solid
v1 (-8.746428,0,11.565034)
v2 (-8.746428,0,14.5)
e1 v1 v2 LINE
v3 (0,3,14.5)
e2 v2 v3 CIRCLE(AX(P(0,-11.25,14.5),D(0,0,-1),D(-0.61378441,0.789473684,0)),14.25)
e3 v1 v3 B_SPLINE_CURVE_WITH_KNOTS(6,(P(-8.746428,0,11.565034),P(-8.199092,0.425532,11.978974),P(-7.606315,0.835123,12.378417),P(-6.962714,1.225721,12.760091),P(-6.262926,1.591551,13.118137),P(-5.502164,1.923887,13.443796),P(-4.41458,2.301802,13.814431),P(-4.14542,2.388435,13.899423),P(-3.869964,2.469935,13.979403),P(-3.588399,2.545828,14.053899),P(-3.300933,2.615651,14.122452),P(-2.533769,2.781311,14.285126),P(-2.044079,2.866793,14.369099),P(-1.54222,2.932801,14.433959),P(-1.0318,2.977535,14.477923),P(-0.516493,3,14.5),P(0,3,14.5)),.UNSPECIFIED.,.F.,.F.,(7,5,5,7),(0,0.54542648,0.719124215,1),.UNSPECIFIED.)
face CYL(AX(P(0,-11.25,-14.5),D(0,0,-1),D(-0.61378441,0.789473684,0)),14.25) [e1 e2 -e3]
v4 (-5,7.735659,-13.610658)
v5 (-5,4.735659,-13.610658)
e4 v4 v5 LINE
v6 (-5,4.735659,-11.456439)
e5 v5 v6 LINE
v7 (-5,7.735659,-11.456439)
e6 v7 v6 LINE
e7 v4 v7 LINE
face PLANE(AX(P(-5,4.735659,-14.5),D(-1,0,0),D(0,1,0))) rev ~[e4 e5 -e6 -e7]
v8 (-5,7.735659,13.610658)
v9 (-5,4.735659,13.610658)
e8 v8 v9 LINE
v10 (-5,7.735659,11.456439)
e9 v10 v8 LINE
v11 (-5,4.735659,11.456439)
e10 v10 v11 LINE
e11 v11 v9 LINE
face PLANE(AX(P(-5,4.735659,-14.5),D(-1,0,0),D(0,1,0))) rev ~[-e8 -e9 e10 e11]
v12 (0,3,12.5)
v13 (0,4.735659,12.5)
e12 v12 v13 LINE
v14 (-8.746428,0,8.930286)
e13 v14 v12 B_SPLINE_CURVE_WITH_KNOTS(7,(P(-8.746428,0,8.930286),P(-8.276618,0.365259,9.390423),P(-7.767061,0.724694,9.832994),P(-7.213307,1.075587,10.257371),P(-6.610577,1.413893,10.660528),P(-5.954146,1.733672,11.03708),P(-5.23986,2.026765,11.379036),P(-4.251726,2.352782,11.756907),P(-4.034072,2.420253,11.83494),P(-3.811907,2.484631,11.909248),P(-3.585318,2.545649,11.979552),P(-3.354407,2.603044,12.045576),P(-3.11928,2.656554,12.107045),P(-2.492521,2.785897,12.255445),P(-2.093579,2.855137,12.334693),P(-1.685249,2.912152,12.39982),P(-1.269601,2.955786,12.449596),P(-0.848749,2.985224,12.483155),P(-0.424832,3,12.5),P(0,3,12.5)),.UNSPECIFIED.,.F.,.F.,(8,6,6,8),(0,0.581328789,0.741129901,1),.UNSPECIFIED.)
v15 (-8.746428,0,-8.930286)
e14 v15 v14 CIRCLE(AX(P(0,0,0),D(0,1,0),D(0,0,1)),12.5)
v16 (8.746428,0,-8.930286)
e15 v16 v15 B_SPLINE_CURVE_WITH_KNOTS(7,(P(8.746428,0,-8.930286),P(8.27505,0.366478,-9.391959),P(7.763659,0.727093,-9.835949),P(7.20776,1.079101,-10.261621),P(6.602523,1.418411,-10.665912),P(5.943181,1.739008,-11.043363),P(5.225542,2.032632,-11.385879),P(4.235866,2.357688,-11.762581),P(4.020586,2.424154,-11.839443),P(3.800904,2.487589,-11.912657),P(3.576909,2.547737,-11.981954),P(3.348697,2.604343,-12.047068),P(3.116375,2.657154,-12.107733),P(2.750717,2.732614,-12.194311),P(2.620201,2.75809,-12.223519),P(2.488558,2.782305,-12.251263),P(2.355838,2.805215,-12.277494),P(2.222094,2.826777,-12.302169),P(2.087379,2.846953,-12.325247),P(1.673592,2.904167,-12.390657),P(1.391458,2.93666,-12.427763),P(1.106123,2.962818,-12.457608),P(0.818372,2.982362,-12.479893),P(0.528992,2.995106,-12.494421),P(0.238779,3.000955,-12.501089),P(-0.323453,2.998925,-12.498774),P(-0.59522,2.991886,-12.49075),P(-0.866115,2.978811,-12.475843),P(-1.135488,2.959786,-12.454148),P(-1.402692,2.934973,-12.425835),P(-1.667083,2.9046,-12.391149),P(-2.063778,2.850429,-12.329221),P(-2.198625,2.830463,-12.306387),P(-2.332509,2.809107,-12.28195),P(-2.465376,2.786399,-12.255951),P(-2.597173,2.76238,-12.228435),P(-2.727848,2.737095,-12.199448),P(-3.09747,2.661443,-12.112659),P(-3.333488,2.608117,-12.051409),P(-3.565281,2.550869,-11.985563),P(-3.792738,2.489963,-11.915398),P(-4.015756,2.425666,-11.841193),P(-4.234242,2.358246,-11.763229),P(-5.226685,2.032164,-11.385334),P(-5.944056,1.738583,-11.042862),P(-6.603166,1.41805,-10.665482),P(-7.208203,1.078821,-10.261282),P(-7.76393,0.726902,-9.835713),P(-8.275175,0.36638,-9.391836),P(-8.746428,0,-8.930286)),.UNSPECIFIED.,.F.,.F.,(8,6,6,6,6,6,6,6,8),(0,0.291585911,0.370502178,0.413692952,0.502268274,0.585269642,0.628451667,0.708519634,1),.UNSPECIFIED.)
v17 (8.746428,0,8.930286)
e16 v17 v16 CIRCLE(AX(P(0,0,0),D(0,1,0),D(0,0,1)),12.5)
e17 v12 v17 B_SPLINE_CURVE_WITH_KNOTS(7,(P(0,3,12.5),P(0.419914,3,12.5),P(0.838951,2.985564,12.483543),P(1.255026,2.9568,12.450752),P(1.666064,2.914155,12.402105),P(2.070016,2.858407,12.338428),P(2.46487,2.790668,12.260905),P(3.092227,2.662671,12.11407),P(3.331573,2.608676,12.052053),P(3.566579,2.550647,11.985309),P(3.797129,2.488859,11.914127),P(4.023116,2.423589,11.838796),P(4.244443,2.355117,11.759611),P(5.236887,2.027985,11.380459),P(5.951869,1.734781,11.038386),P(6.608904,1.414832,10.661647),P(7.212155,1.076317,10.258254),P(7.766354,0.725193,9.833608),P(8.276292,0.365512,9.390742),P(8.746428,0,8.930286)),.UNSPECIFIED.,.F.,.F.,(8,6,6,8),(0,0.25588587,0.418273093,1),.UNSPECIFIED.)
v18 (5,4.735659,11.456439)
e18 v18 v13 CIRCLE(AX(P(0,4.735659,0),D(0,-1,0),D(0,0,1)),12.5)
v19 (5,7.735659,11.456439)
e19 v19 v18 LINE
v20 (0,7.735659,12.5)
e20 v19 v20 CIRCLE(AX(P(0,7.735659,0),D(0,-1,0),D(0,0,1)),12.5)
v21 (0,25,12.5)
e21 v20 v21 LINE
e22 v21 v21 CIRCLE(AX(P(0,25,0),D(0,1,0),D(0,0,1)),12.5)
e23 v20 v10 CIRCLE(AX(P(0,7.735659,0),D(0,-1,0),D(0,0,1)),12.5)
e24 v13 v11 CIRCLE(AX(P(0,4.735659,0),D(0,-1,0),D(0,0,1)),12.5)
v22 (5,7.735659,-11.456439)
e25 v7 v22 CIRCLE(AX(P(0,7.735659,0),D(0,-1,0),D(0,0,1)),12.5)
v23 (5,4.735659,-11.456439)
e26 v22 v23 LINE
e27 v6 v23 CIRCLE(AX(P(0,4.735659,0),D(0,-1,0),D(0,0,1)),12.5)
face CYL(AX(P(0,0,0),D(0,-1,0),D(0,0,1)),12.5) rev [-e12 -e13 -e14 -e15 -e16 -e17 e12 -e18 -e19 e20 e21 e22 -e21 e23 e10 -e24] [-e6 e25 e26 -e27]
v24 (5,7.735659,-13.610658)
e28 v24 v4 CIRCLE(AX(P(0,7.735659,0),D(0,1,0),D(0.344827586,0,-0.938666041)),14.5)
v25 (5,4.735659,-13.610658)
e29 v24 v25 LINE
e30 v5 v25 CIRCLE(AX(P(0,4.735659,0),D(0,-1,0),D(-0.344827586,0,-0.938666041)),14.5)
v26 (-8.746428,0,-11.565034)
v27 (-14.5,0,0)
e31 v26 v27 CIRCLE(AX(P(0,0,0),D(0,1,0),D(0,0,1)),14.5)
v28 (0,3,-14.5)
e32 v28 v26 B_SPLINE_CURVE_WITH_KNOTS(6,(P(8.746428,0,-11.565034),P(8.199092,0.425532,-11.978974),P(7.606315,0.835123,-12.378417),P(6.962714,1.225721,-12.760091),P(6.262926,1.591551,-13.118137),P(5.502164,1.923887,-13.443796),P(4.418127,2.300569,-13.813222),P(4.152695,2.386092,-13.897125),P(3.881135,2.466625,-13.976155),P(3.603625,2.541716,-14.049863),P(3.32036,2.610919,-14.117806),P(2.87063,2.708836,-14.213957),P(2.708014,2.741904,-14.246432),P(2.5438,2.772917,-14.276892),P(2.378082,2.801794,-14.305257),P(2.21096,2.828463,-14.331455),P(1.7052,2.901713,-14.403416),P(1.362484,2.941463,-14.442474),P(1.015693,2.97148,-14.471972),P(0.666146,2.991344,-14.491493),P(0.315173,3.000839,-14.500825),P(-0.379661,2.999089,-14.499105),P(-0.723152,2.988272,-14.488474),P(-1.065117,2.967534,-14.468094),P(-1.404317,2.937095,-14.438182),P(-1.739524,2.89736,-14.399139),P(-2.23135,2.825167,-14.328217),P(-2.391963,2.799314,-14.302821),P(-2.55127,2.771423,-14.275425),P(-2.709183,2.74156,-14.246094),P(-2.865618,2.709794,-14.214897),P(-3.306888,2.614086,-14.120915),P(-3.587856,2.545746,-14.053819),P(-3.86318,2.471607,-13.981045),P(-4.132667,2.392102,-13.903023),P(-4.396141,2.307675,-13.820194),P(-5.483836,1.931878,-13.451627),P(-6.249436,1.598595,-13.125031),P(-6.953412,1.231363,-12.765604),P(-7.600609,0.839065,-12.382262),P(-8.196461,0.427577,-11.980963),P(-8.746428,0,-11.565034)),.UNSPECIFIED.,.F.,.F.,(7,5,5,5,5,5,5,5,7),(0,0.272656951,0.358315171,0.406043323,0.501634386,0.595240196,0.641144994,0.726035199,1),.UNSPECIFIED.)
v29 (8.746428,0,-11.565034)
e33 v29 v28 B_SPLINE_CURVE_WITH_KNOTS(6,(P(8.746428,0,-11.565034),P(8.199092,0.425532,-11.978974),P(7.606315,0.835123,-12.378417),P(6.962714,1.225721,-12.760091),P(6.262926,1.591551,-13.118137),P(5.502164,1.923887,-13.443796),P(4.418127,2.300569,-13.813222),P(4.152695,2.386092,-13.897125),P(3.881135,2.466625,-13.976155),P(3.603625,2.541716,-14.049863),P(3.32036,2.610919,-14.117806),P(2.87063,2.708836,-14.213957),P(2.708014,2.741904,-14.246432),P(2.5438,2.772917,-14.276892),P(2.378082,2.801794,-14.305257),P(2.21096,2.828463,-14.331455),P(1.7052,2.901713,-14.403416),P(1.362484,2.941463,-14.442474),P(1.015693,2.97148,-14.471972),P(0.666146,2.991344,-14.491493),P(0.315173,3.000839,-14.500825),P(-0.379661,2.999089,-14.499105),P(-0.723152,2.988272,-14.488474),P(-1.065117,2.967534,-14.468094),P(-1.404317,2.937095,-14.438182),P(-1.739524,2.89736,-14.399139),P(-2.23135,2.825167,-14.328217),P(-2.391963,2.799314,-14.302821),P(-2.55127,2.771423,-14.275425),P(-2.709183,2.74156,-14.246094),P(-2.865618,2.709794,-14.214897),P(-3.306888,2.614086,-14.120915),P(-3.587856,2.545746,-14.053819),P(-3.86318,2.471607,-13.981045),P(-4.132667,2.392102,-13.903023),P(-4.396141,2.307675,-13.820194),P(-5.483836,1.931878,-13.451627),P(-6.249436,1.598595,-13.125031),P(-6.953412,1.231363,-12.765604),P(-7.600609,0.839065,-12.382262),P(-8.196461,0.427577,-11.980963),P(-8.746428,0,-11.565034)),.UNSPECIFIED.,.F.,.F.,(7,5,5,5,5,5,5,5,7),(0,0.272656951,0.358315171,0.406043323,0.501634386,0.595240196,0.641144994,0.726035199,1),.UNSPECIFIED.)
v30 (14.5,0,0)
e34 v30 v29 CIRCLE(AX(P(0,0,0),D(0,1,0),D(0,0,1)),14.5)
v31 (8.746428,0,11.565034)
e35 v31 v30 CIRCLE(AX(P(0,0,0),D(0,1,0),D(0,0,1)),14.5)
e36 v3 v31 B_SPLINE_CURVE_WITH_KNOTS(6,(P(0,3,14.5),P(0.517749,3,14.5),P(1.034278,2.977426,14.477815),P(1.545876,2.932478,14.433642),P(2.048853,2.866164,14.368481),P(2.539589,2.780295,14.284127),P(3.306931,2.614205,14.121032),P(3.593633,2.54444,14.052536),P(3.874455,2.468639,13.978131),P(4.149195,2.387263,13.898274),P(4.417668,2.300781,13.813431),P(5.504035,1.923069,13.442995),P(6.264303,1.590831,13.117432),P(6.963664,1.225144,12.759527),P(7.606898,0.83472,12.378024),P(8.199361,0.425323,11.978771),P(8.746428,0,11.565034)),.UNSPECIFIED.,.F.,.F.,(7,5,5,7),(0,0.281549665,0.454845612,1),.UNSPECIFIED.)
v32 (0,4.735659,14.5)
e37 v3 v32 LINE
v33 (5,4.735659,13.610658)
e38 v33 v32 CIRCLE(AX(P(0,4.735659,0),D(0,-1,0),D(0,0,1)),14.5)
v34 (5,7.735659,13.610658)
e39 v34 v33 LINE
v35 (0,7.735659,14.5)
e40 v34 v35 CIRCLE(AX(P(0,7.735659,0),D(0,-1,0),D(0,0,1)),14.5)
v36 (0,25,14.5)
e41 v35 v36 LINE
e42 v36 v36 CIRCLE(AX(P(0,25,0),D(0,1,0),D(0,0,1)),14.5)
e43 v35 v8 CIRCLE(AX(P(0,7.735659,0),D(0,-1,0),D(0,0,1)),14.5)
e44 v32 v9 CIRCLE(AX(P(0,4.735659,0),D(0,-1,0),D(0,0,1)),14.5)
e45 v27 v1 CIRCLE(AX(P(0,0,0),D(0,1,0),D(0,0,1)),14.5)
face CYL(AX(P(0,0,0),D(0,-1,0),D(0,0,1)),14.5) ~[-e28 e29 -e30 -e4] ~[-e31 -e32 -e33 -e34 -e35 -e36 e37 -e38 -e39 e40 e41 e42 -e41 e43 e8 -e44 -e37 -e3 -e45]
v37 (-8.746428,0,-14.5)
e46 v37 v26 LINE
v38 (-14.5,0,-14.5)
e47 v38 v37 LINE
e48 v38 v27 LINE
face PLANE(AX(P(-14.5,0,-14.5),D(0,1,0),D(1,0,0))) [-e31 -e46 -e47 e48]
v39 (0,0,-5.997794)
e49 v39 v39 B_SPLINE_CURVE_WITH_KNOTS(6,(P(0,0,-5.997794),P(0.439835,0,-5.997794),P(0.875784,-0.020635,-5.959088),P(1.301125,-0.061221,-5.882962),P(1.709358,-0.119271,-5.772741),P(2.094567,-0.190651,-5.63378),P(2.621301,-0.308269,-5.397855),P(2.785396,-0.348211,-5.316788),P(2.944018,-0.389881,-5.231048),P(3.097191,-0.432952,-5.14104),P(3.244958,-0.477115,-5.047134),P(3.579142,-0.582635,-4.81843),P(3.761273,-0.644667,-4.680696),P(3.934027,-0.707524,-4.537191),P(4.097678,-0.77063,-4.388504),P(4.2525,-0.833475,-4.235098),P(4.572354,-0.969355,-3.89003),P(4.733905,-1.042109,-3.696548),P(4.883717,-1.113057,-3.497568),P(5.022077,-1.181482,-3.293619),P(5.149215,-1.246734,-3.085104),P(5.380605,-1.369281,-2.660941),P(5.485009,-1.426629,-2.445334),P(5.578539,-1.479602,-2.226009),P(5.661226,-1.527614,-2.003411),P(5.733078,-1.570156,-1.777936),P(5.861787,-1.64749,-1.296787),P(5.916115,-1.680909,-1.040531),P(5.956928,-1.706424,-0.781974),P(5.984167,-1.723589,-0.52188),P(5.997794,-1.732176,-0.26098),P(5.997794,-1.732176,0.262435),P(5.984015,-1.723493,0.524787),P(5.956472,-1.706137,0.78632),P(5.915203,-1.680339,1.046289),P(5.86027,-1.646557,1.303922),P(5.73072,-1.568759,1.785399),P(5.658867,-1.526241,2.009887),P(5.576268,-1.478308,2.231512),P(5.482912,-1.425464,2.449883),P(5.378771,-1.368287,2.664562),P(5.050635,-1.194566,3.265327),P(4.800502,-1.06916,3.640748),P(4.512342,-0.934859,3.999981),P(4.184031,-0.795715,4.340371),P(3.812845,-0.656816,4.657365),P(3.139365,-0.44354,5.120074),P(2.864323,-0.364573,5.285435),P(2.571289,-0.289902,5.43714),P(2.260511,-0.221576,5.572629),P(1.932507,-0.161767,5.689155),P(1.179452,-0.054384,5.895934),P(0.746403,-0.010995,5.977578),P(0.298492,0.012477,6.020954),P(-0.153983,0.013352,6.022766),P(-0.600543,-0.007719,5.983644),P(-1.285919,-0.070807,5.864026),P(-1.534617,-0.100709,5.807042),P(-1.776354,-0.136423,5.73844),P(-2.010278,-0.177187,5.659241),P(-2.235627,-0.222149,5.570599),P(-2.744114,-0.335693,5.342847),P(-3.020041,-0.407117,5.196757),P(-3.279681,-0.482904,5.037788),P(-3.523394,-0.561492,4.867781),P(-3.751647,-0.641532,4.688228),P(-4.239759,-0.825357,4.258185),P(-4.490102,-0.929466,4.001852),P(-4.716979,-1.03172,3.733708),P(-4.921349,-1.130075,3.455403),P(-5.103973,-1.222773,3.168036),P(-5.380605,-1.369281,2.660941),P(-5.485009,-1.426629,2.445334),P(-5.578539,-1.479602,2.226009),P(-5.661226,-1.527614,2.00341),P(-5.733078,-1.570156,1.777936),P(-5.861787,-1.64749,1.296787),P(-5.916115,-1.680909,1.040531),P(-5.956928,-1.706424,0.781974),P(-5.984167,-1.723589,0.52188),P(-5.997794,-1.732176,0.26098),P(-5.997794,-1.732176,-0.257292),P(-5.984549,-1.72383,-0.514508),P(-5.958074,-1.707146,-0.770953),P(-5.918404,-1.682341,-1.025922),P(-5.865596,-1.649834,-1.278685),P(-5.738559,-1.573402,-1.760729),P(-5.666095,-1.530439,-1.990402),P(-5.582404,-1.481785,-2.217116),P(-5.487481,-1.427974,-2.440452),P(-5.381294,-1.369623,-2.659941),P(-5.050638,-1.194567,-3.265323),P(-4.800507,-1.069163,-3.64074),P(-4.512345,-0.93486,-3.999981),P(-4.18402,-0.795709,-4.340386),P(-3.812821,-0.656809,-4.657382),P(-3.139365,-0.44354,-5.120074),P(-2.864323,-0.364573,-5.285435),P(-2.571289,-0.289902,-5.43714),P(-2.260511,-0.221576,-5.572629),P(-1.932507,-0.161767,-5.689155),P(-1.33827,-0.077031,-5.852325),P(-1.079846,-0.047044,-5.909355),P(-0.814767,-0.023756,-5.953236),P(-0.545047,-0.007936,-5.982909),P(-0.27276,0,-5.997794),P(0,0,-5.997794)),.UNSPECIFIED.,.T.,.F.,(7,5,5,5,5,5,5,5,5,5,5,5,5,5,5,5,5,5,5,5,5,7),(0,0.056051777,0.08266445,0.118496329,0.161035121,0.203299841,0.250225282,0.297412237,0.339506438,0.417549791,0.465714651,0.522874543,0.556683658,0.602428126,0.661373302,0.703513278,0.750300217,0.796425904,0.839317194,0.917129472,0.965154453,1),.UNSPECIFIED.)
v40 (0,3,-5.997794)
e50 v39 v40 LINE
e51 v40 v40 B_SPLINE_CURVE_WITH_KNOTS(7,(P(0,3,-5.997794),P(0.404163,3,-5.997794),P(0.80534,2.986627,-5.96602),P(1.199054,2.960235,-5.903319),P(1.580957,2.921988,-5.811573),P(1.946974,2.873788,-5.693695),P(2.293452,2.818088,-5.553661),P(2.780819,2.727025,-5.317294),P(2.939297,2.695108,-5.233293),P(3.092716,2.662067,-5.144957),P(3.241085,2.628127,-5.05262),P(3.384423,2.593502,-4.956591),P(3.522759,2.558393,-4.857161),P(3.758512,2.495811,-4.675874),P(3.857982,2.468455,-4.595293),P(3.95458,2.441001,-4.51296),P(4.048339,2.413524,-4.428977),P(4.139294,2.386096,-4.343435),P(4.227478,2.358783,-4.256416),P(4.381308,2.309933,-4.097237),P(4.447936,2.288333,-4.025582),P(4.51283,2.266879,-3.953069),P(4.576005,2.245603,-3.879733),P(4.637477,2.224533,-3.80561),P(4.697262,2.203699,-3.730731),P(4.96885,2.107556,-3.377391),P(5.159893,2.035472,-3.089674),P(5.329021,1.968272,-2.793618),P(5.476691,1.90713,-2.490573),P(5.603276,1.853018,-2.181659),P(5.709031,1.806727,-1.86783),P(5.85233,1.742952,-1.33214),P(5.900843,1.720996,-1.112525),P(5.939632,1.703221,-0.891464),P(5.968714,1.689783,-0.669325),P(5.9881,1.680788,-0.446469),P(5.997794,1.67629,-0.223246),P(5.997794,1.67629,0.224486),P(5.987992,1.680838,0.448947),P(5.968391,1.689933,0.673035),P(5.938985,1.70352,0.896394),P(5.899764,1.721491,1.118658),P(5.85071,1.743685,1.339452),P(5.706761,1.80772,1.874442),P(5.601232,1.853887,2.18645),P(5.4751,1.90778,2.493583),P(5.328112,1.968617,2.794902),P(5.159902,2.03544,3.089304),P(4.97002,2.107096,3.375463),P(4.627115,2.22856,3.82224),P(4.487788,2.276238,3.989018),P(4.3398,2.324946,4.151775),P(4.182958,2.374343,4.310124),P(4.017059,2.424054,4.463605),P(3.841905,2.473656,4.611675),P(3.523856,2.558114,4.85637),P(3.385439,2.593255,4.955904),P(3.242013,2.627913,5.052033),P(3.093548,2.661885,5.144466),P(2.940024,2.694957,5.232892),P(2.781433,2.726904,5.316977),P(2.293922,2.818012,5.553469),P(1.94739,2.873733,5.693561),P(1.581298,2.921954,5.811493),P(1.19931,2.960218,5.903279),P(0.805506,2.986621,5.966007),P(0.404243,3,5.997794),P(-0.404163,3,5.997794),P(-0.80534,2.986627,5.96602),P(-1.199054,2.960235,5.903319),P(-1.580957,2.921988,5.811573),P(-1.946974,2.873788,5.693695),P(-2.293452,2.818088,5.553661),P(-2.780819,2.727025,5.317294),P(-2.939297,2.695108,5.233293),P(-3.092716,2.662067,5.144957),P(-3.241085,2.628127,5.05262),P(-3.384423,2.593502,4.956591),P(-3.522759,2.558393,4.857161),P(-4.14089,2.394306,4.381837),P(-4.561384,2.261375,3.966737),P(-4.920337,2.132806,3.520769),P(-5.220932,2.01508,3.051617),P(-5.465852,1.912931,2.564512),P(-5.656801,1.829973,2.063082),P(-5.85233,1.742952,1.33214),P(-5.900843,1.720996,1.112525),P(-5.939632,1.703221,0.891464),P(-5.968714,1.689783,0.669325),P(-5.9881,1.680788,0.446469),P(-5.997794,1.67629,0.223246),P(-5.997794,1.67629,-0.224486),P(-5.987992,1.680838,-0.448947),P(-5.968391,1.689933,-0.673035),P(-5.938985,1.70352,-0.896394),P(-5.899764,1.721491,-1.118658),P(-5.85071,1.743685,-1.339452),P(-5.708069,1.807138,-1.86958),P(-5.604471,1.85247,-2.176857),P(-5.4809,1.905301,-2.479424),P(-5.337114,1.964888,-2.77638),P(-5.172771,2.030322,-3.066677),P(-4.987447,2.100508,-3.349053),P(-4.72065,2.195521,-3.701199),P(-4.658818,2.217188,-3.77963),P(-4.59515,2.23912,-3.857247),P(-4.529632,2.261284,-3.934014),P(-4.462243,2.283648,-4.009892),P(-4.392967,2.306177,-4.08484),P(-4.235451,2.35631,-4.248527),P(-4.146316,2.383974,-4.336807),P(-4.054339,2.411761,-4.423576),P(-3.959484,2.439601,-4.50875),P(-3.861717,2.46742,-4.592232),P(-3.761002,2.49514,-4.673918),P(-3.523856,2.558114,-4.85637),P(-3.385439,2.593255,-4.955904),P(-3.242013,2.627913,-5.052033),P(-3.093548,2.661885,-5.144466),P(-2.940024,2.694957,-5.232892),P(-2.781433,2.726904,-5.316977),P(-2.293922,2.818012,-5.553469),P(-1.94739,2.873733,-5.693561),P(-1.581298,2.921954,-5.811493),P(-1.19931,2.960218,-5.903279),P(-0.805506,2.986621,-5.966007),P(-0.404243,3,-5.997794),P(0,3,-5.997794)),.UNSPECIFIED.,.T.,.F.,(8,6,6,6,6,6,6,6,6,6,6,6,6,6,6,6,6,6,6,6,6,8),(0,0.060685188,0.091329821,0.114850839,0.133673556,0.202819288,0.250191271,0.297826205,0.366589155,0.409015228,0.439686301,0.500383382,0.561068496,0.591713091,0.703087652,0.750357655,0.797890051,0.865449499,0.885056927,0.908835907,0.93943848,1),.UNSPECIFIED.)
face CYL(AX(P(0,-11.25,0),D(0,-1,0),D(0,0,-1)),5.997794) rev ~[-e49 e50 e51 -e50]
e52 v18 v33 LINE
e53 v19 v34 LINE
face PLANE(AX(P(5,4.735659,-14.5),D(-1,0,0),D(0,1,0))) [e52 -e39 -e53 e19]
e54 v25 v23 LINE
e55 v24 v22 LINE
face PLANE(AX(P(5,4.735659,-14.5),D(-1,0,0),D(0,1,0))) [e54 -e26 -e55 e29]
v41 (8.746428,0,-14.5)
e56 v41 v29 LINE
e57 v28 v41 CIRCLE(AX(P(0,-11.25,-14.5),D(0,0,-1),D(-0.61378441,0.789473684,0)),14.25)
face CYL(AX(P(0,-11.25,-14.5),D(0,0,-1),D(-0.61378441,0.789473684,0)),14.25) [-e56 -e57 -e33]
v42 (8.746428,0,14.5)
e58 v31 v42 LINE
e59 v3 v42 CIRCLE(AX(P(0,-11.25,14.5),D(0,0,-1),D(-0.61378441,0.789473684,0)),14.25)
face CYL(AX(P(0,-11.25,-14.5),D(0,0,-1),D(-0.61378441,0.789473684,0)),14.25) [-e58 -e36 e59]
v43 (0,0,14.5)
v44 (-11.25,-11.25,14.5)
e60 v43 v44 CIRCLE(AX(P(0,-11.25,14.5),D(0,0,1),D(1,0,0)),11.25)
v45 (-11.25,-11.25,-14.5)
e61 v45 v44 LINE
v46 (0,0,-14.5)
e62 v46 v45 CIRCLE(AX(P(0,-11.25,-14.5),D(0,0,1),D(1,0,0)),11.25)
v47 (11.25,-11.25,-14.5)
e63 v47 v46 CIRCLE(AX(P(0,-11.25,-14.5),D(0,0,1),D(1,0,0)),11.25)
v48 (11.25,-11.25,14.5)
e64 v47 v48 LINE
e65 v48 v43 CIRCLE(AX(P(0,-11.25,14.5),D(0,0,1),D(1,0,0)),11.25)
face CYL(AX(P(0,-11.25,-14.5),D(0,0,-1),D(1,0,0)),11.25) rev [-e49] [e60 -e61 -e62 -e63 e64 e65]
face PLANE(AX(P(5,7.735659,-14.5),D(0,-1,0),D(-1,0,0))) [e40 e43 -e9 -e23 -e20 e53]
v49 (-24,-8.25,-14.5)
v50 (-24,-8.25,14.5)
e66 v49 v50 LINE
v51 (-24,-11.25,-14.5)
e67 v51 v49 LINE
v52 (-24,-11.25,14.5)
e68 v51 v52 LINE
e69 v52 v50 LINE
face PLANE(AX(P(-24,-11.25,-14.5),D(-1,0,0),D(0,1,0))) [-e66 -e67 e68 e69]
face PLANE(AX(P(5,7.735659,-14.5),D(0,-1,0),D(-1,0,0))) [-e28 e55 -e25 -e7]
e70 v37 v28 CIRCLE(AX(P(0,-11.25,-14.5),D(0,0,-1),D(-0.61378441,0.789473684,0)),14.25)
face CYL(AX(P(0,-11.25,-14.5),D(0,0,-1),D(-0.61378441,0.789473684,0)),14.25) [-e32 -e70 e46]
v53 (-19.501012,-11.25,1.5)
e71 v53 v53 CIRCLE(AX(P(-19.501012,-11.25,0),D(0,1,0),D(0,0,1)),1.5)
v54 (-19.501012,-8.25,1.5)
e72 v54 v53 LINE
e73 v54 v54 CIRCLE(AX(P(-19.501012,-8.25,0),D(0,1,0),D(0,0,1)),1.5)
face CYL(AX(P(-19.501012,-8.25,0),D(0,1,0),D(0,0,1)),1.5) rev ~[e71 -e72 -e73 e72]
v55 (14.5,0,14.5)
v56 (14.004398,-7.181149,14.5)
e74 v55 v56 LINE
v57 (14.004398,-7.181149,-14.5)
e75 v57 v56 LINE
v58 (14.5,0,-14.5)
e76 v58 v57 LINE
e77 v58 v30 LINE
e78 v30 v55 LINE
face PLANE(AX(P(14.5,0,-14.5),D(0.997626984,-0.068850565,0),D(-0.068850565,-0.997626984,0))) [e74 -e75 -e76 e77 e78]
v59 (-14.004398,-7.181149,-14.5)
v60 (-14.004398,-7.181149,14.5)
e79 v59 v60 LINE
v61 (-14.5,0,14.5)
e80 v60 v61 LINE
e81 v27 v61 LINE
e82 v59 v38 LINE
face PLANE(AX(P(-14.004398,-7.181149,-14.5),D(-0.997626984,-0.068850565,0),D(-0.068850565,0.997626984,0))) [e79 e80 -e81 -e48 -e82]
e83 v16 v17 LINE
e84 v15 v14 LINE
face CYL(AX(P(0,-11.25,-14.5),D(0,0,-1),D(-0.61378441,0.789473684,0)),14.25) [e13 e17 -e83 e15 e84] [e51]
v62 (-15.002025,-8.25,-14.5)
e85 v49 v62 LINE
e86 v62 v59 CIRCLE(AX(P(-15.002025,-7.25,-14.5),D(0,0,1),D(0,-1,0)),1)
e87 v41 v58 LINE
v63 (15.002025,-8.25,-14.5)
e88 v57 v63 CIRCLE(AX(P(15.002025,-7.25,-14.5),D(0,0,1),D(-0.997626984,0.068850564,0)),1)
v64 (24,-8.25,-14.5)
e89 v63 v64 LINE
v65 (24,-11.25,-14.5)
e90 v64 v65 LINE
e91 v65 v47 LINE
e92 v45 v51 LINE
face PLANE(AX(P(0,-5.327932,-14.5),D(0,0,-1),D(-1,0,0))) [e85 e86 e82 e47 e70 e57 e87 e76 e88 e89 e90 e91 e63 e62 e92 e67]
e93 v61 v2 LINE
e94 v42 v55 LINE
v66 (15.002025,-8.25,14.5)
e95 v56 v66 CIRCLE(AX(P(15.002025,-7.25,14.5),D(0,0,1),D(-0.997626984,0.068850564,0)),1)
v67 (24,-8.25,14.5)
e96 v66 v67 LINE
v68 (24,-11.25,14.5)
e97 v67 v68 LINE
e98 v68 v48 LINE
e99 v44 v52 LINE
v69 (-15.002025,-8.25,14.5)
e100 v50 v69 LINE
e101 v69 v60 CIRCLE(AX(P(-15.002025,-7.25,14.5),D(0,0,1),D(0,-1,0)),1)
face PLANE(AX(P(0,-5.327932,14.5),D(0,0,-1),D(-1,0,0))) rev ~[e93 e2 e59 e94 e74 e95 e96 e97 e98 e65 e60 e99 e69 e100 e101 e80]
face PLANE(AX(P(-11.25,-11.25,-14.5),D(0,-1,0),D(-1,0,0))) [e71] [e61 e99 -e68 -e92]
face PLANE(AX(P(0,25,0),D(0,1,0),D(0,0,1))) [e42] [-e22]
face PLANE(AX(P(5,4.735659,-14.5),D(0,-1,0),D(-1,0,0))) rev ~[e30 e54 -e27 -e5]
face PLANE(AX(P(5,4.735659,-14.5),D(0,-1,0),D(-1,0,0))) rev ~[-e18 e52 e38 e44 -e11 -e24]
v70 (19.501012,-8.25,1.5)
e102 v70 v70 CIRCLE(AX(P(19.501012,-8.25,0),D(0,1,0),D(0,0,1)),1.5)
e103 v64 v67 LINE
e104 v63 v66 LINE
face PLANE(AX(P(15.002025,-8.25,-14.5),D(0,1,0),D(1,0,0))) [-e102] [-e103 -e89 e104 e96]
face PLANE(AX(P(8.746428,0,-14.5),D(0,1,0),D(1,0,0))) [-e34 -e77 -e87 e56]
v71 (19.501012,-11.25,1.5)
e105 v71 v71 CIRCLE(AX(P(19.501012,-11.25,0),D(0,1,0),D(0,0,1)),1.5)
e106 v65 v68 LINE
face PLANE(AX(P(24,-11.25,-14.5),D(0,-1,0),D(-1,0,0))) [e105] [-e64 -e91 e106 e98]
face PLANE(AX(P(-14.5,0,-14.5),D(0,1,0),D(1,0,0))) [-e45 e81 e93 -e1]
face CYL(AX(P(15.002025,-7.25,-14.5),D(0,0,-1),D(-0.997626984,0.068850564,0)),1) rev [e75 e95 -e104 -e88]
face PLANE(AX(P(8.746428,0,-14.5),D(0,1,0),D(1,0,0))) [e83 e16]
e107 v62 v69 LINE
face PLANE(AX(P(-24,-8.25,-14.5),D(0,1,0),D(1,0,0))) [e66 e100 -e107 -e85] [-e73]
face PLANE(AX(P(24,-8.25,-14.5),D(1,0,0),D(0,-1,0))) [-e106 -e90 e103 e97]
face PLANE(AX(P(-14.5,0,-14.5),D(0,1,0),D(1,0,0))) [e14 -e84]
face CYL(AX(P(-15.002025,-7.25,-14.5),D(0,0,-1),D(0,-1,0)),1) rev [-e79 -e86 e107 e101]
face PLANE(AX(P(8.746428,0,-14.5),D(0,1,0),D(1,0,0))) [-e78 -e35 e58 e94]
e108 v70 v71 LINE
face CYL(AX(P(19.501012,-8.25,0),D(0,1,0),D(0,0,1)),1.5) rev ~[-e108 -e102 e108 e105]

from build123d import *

# Parameters (mm, degrees)
SKETCH1_R                = 14.5
SKETCH1_R_2              = 12.5
BOSS_EXTRUDE1_DEPTH      = 25
BOSS_EXTRUDE2_DEPTH      = 14.5
BOSS_EXTRUDE2_DEPTH_BACK = 14.5
SKETCH3_R                = 5.997794038
CUT_EXTRUDE1_DEPTH       = 25
SKETCH4_W                = 10
SKETCH4_H                = 3
CUT_EXTRUDE2_DEPTH       = 30
SKETCH6_R                = 1.5
CUT_EXTRUDE4_DEPTH       = 30


with BuildPart() as part:
    # Sketch1 → Boss-Extrude1 (new body)
    with BuildSketch(Plane(origin=(0, 0, 0), x_dir=(1, 0, 0), z_dir=(0, 1, 0))):
        Circle(SKETCH1_R)
        Circle(SKETCH1_R_2, mode=Mode.SUBTRACT)
    extrude(amount=BOSS_EXTRUDE1_DEPTH)

    # Sketch2 → Boss-Extrude2 (add, two sides: drawn at the far end of the back side and taken through both)
    with BuildSketch(Plane.XY.offset(-BOSS_EXTRUDE2_DEPTH_BACK)):
        with BuildLine():
            Line((-11.25, -11.25), (-20, -11.25))
            Line((-20, -11.25), (-24, -11.25))
            Line((-24, -11.25), (-24, -8.25))
            Line((-24, -8.25), (-20, -8.25))
            Line((-20, -8.25), (-15.002024714, -8.25))
            ThreePointArc((-15.002024714, -8.25), (-14.270980746, -7.932330358), (-14.004397729, -7.181149435))
            Line((-14.004397729, -7.181149435), (-14.5, 0))
            Line((-14.5, 0), (-8.746427842, 0))
            ThreePointArc((-8.746427842, 0), (0, 3), (8.746427842, 0))
            Line((8.746427842, 0), (14.5, 0))
            Line((14.5, 0), (14.004397729, -7.181149435))
            ThreePointArc((14.004397729, -7.181149435), (14.270980746, -7.932330358), (15.002024714, -8.25))
            Line((15.002024714, -8.25), (20, -8.25))
            Line((20, -8.25), (24, -8.25))
            Line((24, -8.25), (24, -11.25))
            Line((24, -11.25), (20, -11.25))
            Line((20, -11.25), (11.25, -11.25))
            ThreePointArc((11.25, -11.25), (0, 0), (-11.25, -11.25))
        make_face()
    extrude(amount=BOSS_EXTRUDE2_DEPTH + BOSS_EXTRUDE2_DEPTH_BACK)

    # Sketch3 → Cut-Extrude1 (cut)
    with BuildSketch(Plane.XZ.offset(11.25)):
        Circle(SKETCH3_R)
    extrude(amount=-CUT_EXTRUDE1_DEPTH, mode=Mode.SUBTRACT)

    # Sketch4 → Cut-Extrude2 (cut)
    with BuildSketch(Plane(origin=(0, 0, -14.5), x_dir=(-1, 0, 0), z_dir=(0, 0, -1))):
        with Locations((0, 6.23565899)):
            Rectangle(SKETCH4_W, SKETCH4_H)
    extrude(amount=-CUT_EXTRUDE2_DEPTH, mode=Mode.SUBTRACT)

    # Sketch6 → Cut-Extrude4 (cut)
    with BuildSketch(Plane(origin=(0, -8.25, 0), x_dir=(1, 0, 0), z_dir=(0, 1, 0))):
        with Locations((-19.501012357, 0)):
            Circle(SKETCH6_R)
        with Locations((19.501012357, 0)):
            Circle(SKETCH6_R)
    extrude(amount=-CUT_EXTRUDE4_DEPTH, mode=Mode.SUBTRACT)


solid = part.part
